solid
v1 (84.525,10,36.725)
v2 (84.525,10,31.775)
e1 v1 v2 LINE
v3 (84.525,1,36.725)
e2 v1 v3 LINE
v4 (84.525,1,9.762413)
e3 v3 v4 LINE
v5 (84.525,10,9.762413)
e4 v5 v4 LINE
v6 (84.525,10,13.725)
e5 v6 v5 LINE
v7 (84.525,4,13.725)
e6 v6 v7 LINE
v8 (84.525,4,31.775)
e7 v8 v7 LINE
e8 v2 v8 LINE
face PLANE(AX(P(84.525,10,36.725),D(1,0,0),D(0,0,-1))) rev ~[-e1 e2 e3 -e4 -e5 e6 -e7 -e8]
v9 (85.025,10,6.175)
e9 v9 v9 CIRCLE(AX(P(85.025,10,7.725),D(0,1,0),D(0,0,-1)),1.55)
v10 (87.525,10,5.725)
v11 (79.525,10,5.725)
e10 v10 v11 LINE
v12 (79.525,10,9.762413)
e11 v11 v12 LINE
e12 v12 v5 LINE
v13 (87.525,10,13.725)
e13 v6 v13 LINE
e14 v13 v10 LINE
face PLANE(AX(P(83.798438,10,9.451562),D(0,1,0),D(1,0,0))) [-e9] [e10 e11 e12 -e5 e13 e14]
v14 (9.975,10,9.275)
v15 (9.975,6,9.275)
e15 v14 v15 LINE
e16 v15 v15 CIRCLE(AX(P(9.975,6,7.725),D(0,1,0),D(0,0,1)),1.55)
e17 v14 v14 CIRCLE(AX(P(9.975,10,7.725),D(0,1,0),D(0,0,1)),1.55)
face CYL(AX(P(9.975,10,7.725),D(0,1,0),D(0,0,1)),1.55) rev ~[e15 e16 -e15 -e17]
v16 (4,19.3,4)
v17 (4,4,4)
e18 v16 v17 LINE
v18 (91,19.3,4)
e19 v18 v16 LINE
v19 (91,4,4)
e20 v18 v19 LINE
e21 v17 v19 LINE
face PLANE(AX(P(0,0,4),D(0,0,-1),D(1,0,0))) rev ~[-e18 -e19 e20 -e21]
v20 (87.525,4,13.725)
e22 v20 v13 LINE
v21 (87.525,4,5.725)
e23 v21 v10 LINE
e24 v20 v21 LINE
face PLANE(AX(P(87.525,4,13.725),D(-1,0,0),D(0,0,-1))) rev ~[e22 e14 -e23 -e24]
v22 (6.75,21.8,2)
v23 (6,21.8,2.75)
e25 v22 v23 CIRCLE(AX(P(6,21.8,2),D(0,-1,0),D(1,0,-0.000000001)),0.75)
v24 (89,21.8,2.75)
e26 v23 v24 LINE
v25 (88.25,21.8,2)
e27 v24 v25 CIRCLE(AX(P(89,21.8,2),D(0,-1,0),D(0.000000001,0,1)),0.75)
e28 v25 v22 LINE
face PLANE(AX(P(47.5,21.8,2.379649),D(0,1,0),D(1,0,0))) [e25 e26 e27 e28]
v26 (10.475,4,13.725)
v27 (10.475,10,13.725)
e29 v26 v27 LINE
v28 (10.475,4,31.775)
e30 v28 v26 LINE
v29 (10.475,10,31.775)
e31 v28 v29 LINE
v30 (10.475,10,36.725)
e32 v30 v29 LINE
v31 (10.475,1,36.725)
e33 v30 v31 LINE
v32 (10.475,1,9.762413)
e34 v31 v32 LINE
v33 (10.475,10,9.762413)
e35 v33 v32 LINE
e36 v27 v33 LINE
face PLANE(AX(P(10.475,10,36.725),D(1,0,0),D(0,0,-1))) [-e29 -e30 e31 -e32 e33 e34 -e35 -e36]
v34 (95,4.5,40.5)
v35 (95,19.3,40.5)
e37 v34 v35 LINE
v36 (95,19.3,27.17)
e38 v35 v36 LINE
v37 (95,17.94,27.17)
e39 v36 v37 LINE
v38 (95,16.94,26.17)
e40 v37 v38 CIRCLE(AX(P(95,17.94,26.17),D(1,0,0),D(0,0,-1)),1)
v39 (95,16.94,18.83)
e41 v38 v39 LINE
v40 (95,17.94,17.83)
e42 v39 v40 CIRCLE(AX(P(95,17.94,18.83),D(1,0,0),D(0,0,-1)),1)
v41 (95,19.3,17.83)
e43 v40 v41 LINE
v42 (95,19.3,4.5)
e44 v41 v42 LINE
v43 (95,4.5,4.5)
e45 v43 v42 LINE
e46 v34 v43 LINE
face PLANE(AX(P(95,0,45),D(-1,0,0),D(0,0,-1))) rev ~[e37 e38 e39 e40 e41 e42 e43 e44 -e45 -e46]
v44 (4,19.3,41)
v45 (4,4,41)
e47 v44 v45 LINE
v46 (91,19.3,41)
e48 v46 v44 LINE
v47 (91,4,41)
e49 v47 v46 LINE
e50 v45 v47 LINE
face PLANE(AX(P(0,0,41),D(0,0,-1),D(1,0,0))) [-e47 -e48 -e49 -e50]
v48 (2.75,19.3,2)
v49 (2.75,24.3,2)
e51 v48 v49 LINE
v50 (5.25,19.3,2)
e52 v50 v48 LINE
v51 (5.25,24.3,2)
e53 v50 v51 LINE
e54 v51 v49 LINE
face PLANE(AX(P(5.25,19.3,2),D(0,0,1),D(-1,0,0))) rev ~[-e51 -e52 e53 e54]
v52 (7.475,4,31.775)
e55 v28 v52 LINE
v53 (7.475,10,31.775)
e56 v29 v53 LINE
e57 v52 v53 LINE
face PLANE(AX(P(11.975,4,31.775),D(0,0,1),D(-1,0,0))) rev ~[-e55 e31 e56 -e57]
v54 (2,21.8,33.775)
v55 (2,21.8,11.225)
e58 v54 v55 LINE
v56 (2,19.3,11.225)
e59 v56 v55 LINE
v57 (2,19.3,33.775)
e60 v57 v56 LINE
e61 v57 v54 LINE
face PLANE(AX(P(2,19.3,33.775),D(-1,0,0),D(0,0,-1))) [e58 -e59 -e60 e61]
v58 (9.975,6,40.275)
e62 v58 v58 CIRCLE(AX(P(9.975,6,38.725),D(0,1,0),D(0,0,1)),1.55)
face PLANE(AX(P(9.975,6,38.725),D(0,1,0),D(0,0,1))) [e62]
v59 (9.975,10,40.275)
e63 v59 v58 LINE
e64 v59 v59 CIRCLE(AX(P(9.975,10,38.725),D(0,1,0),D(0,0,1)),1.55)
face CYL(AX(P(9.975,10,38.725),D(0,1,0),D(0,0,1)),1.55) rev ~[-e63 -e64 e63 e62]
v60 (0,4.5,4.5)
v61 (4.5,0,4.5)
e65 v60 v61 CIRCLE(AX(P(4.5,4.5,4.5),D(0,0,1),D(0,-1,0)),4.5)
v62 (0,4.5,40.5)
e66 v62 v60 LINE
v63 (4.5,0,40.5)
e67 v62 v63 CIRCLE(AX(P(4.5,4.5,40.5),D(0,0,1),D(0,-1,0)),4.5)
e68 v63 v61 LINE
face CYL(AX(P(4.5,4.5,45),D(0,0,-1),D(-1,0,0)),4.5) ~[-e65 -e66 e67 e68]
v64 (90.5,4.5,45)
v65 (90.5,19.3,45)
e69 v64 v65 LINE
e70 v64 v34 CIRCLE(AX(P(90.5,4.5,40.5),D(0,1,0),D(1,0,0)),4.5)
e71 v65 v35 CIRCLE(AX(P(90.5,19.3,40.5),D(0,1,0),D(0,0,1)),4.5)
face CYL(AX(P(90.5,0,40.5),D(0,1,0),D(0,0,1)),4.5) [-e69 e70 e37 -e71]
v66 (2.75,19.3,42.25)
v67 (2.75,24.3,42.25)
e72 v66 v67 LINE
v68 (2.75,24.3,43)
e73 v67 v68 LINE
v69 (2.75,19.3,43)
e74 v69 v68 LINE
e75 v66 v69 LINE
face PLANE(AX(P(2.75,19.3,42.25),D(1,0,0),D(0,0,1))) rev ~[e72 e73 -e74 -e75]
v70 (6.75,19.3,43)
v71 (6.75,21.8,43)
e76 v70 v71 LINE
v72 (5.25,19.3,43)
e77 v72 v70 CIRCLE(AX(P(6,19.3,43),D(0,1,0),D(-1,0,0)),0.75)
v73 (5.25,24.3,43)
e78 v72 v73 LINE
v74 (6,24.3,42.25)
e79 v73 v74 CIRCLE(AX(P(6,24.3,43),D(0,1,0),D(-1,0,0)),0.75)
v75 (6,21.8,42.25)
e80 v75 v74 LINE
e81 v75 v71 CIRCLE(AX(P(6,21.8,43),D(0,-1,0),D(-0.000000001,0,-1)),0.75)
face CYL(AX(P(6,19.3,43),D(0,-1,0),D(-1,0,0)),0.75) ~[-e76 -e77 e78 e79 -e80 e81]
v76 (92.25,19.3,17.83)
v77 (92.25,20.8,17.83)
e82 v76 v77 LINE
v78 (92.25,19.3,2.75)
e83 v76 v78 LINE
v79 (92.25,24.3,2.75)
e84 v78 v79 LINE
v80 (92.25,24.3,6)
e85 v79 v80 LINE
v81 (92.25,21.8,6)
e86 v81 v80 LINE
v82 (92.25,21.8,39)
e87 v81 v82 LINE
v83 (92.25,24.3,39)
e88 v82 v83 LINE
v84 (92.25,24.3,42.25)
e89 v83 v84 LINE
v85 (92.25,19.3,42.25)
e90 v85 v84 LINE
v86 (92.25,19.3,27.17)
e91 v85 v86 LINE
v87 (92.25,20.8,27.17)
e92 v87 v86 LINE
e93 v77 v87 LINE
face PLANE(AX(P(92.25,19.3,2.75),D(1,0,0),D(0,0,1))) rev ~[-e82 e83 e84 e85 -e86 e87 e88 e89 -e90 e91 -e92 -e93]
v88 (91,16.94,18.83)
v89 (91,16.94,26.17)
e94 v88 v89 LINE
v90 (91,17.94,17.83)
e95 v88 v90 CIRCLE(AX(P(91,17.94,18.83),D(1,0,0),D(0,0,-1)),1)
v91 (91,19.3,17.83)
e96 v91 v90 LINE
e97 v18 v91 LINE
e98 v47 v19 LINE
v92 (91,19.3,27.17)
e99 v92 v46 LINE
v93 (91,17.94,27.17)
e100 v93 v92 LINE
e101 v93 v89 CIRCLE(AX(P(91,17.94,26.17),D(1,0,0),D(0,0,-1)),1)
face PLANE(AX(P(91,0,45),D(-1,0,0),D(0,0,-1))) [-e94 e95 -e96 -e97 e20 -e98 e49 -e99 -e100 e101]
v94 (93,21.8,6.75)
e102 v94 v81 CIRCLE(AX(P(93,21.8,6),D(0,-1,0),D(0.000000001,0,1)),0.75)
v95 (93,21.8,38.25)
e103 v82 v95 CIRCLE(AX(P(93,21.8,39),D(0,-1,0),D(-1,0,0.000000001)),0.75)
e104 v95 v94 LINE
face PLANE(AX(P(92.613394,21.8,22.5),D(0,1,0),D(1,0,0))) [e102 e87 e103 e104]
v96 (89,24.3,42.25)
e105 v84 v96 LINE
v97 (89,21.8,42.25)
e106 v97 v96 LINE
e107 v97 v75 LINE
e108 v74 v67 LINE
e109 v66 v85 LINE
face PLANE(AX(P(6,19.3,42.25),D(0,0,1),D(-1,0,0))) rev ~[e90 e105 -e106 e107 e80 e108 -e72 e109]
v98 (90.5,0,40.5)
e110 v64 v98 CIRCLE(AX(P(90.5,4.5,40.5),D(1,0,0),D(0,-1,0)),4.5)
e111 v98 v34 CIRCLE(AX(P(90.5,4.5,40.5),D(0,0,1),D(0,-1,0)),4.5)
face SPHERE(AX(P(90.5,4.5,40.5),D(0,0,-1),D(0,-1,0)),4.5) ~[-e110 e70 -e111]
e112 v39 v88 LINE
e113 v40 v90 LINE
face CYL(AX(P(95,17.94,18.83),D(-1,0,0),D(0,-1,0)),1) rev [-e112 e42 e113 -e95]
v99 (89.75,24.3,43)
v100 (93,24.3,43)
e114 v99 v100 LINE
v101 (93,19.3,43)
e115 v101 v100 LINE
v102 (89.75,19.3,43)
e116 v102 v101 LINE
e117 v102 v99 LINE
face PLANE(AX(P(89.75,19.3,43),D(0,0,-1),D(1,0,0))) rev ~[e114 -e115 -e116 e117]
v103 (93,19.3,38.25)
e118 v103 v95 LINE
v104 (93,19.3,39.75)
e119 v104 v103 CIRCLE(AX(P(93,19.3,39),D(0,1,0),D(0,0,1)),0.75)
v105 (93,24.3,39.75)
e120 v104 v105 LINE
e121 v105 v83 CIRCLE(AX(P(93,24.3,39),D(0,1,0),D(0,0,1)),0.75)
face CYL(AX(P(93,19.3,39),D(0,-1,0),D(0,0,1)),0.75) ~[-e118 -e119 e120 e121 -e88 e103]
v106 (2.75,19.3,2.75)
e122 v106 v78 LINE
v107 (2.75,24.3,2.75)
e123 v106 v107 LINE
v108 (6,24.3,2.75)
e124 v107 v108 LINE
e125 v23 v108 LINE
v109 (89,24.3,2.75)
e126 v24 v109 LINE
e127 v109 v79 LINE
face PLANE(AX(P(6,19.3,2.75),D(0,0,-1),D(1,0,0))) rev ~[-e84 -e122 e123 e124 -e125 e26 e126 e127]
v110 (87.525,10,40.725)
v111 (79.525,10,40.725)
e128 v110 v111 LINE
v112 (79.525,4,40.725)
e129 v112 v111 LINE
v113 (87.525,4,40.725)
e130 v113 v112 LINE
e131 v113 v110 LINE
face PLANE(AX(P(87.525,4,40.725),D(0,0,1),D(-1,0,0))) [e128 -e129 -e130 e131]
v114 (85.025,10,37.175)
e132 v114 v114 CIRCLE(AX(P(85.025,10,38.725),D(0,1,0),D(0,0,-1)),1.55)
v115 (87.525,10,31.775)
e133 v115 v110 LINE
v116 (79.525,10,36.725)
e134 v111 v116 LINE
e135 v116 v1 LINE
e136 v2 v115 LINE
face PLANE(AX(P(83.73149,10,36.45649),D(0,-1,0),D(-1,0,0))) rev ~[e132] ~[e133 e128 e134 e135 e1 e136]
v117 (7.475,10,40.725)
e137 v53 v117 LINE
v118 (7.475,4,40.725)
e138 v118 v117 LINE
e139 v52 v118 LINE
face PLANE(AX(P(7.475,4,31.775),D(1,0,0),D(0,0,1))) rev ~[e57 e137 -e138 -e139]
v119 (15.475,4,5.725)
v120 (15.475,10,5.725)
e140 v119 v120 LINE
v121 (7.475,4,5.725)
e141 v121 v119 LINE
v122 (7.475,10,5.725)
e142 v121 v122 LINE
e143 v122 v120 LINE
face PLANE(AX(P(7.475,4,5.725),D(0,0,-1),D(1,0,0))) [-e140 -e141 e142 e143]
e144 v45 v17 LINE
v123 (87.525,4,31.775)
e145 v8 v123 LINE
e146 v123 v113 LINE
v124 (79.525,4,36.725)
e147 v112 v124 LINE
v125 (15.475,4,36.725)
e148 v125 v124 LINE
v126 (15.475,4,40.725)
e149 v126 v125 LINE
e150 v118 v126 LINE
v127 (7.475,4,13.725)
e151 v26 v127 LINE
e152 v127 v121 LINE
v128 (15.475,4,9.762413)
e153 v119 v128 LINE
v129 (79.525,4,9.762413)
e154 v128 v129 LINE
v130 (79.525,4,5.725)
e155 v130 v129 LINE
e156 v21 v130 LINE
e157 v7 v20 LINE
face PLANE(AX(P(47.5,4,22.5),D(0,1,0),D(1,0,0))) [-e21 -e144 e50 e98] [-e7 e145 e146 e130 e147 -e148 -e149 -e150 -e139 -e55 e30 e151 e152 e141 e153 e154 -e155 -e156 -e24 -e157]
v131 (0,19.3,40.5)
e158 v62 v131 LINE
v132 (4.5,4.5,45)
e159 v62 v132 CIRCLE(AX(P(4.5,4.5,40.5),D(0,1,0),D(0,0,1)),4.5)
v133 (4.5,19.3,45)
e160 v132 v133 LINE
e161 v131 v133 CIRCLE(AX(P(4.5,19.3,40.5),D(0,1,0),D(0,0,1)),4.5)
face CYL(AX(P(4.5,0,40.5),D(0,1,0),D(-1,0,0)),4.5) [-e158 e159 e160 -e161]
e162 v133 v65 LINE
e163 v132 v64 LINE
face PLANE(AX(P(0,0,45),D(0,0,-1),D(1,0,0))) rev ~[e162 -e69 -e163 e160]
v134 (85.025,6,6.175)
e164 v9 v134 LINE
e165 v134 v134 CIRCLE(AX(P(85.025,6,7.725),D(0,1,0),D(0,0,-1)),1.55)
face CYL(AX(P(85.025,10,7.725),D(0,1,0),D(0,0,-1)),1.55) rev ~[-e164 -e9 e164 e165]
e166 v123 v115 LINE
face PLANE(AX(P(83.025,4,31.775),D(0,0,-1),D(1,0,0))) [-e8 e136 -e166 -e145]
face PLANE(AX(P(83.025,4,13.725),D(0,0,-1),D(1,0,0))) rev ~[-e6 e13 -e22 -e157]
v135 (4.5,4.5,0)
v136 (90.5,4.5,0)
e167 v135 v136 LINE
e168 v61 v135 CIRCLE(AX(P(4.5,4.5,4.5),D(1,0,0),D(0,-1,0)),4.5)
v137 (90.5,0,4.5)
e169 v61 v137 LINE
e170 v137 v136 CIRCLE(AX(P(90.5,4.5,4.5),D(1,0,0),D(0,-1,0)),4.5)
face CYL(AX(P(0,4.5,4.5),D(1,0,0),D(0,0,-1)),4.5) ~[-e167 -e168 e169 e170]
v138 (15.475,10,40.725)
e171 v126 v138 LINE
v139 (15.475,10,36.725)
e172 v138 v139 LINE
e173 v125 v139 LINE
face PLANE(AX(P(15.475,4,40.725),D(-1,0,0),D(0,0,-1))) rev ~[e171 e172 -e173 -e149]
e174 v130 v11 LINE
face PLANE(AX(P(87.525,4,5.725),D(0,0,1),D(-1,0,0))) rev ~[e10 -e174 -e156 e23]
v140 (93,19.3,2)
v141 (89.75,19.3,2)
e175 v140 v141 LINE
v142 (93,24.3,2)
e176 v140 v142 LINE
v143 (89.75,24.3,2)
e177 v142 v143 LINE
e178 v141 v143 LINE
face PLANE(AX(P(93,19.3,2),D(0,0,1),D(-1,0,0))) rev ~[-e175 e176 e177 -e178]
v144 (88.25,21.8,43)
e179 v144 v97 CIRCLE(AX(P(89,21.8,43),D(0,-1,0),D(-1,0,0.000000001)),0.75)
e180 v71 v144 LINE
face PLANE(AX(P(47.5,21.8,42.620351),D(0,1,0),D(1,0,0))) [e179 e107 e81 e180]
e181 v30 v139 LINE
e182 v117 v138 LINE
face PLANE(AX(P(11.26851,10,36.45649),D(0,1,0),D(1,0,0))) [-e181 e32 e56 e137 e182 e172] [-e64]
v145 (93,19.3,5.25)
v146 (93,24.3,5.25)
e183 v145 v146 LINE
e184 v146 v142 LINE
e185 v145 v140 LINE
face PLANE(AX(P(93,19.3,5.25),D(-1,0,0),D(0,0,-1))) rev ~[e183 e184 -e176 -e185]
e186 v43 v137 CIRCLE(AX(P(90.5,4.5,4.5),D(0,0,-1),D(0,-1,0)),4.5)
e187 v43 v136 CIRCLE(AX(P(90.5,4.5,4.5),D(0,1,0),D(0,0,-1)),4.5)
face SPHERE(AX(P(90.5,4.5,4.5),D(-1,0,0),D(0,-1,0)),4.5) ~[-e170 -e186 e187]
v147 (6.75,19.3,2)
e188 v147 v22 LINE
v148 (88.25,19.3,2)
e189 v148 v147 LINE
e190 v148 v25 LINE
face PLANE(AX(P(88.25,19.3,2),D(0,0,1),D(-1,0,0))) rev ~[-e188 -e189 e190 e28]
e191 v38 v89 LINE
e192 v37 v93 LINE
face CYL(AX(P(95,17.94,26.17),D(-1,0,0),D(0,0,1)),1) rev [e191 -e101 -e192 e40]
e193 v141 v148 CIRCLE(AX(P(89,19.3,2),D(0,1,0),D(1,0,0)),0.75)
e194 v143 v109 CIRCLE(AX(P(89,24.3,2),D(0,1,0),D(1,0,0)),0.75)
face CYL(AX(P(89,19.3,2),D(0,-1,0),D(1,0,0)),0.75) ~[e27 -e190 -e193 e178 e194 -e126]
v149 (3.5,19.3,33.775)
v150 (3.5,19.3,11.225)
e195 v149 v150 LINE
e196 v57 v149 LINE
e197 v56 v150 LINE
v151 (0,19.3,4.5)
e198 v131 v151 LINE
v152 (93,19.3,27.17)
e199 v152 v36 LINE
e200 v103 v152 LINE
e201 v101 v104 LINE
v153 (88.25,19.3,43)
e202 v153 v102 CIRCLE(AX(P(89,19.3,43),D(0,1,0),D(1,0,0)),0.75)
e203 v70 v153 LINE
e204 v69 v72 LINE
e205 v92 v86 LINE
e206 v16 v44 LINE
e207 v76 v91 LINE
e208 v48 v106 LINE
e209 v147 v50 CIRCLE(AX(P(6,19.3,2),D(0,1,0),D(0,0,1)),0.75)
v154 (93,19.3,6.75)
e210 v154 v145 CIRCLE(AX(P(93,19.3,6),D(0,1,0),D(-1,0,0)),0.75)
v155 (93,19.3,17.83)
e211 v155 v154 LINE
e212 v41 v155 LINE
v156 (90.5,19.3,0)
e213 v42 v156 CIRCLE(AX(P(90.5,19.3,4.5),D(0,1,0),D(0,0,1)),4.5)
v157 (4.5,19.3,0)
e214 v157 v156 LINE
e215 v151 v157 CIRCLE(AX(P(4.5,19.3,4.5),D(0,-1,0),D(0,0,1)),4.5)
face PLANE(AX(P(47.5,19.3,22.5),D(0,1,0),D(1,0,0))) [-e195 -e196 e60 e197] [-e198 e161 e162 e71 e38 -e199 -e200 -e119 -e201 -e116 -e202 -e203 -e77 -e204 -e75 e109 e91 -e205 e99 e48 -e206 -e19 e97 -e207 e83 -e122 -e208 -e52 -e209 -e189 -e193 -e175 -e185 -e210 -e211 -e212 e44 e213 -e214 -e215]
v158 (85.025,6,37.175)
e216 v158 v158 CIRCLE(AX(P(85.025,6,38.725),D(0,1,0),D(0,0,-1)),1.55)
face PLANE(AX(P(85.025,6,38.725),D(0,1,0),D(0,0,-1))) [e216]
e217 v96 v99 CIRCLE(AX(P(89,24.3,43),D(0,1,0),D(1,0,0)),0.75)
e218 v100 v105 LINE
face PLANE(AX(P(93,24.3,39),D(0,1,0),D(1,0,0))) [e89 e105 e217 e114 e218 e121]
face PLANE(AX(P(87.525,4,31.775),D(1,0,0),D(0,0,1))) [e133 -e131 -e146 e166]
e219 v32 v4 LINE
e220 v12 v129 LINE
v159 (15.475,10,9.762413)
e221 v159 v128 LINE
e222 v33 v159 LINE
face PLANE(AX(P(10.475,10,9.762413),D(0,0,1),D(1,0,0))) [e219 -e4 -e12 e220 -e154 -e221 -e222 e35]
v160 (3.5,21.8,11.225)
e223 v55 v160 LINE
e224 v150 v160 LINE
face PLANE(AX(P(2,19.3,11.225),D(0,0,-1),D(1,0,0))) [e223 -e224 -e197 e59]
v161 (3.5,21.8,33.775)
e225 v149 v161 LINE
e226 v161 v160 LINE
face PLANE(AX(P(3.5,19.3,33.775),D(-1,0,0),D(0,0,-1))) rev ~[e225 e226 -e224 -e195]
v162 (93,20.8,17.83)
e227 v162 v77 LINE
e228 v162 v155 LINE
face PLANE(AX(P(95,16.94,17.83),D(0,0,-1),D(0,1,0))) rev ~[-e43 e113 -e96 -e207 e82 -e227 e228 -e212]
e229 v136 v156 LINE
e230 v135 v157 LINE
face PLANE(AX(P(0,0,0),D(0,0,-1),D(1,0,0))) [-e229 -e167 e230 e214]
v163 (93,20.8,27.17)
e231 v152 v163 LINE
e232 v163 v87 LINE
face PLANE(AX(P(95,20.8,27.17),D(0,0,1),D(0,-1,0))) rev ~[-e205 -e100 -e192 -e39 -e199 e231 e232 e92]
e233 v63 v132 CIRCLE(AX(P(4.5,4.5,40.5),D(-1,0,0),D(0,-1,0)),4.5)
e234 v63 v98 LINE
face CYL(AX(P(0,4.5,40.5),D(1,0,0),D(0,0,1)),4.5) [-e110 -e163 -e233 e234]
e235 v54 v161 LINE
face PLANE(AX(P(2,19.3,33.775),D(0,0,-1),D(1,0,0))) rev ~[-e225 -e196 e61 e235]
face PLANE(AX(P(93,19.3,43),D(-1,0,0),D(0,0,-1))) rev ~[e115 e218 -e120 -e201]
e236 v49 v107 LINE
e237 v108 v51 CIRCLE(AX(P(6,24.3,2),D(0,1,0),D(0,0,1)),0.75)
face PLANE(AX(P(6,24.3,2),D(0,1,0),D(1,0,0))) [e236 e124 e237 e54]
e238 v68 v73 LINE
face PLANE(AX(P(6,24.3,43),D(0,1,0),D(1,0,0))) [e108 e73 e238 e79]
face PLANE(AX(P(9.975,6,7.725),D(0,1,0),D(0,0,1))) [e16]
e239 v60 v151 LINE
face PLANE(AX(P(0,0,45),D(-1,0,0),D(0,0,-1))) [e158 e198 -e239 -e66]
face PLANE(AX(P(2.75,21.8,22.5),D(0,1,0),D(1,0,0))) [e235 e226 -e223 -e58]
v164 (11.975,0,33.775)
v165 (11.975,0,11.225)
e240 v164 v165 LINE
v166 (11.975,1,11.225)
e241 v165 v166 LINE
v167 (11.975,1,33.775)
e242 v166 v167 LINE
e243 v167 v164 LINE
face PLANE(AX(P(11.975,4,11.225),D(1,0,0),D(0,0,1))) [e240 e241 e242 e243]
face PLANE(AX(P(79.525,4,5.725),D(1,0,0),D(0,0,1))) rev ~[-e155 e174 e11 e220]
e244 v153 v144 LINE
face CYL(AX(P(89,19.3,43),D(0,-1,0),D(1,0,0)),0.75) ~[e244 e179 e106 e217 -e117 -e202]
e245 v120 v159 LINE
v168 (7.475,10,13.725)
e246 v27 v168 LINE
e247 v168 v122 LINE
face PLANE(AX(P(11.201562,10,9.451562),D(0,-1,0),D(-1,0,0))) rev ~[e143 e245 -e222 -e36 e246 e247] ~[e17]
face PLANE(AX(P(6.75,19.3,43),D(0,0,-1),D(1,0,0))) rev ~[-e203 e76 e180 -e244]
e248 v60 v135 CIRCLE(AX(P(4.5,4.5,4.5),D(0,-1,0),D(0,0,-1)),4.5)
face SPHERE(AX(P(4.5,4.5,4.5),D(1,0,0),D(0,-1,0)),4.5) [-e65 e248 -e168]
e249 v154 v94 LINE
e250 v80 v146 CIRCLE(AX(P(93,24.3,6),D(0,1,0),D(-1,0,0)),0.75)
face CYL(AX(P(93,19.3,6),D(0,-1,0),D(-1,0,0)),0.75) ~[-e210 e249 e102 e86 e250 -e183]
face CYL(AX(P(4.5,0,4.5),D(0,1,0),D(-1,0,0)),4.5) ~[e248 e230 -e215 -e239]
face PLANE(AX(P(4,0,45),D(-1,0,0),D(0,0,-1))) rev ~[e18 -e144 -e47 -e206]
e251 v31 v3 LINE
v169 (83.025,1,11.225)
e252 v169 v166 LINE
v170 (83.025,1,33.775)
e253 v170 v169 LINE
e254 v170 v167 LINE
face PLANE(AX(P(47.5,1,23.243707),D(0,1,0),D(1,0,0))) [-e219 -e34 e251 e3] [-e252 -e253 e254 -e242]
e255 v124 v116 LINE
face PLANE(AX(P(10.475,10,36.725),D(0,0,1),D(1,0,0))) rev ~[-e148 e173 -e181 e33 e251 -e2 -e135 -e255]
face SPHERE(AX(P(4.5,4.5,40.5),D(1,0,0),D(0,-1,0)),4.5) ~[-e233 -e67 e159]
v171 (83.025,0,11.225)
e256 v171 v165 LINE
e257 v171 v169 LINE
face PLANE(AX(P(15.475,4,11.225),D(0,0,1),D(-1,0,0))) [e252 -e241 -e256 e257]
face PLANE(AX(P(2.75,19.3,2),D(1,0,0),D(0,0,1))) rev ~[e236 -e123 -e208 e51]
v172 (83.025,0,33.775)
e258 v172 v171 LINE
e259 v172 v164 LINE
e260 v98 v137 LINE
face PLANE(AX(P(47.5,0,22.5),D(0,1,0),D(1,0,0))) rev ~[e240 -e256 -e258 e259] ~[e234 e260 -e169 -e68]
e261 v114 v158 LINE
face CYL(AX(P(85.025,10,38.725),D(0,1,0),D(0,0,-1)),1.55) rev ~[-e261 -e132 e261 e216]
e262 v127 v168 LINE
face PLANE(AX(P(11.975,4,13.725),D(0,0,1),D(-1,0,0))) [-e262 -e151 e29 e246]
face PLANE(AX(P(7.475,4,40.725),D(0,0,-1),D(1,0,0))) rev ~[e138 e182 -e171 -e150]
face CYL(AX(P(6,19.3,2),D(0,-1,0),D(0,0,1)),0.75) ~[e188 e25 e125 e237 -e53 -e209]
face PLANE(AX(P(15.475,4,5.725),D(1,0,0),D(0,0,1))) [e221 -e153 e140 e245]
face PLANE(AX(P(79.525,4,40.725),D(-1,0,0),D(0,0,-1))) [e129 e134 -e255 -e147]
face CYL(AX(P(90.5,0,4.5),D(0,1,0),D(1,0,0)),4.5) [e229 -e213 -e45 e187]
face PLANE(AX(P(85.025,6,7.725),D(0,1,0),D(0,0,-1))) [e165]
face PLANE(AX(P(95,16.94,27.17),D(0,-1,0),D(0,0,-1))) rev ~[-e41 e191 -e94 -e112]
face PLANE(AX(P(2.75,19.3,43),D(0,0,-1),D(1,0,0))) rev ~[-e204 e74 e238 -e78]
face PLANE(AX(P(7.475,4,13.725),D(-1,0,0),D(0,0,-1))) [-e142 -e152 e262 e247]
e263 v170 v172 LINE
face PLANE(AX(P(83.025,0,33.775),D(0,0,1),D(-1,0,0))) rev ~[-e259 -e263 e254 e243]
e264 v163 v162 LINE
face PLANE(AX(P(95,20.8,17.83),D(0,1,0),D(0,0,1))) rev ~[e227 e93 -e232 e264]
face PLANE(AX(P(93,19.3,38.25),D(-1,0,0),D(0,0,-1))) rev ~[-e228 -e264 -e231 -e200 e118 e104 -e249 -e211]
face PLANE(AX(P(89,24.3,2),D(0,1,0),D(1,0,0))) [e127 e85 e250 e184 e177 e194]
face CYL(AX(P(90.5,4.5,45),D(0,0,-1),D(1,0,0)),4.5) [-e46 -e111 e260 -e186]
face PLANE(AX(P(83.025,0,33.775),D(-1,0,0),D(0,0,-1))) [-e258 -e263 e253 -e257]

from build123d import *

# Parameters (mm, degrees)
SKETCH_1_W          = 95
SKETCH_1_H          = 45
EXTRUDE_1_DEPTH     = 19.3
SHELL_1_T           = -4
FILLET_1_R          = 4.5
SKETCH_2_W          = 71.05
SKETCH_2_H          = 22.55
CUT_EXTRUDE_1_DEPTH = 4.5
EXTRUDE_3_DEPTH     = 6
SKETCH_7_R          = 1.55
CUT_EXTRUDE_2_DEPTH = 4
EXTRUDE_5_DEPTH     = 5
EXTRUDE_6_DEPTH     = 2.5
SKETCH_9_W          = 1.5
SKETCH_9_H          = 22.55
EXTRUDE_7_DEPTH     = 2.5
SKETCH_10_W         = 74.05
SKETCH_10_H         = 26.962586992
CUT_EXTRUDE_3_DEPTH = 9
SKETCH_12_W         = 9.34
SKETCH_12_H         = 3.86
CUT_EXTRUDE_4_DEPTH = 24
FILLET_2_R          = 1
FILLET_3_R          = 1


with BuildPart() as part:
    # Эскиз1 → Бобышка-Вытянуть1 (new body)
    with BuildSketch(Plane(origin=(0, 0, 0), x_dir=(1, 0, 0), z_dir=(0, 1, 0))):
        with Locations((47.5, -22.5)):
            Rectangle(SKETCH_1_W, SKETCH_1_H)
    extrude(amount=EXTRUDE_1_DEPTH)

    # Оболочка1
    shell_1_openings = [part.faces().sort_by_distance(p)[0] for p in [
        (47.5, 19.3, 22.5),
    ]]
    offset(amount=SHELL_1_T, openings=shell_1_openings, kind=Kind.INTERSECTION)

    # Скругление1
    fillet_1_edges = [part.edges().sort_by_distance(p)[0] for p in [
        (47.5, 0, 45),
        (95, 0, 22.5),
        (47.5, 0, 0),
        (0, 0, 22.5),
        (95, 9.65, 0),
        (95, 9.65, 45),
        (0, 9.65, 0),
        (0, 9.65, 45),
    ]]
    fillet(fillet_1_edges, radius=FILLET_1_R)

    # Эскиз2 → Вырез-Вытянуть1 (cut)
    with BuildSketch(Plane(origin=(0, 0, 0), x_dir=(-1, 0, 0), z_dir=(0, -1, 0))):
        with Locations((-47.5, -22.5)):
            Rectangle(SKETCH_2_W, SKETCH_2_H)
    extrude(amount=-CUT_EXTRUDE_1_DEPTH, mode=Mode.SUBTRACT)

    # Эскиз6 → Бобышка-Вытянуть3 (add)
    with BuildSketch(Plane(origin=(0, 4, 0), x_dir=(1, 0, 0), z_dir=(0, 1, 0))):
        Polygon((11.975, -11.225), (11.975, -13.725), (7.475, -13.725), (7.475, -5.725), (15.475, -5.725), (15.475, -11.225), align=None)
        Polygon((11.975, -33.775), (11.975, -31.775), (7.475, -31.775), (7.475, -40.725), (15.475, -40.725), (15.475, -33.775), align=None)
        Polygon((87.525, -40.725), (79.525, -40.725), (79.525, -33.775), (83.025, -33.775), (83.025, -31.775), (87.525, -31.775), align=None)
        Polygon((79.525, -5.725), (79.525, -11.225), (83.025, -11.225), (83.025, -13.725), (87.525, -13.725), (87.525, -5.725), align=None)
    extrude(amount=EXTRUDE_3_DEPTH)

    # Эскиз7 → Вырез-Вытянуть2 (cut)
    with BuildSketch(Plane(origin=(0, 10, 0), x_dir=(1, 0, 0), z_dir=(0, 1, 0))):
        with Locations((9.975, -7.725)):
            Circle(SKETCH_7_R)
        with Locations((85.025, -7.725)):
            Circle(SKETCH_7_R)
        with Locations((9.975, -38.725)):
            Circle(SKETCH_7_R)
        with Locations((85.025, -38.725)):
            Circle(SKETCH_7_R)
    extrude(amount=-CUT_EXTRUDE_2_DEPTH, mode=Mode.SUBTRACT)

    # Эскиз8 → Бобышка-Вытянуть5 (add)
    with BuildSketch(Plane(origin=(0, 19.3, 0), x_dir=(1, 0, 0), z_dir=(0, 1, 0))):
        with BuildLine():
            Line((5.25, -2), (2.75, -2))
            Line((2.75, -2), (2.75, -2.75))
            Line((2.75, -2.75), (6, -2.75))
            ThreePointArc((6, -2.75), (6.530330086, -1.469669914), (5.25, -2))
        make_face()
        with BuildLine():
            Line((6, -42.25), (2.75, -42.25))
            Line((2.75, -42.25), (2.75, -43))
            Line((2.75, -43), (5.25, -43))
            ThreePointArc((5.25, -43), (6.530330086, -43.530330086), (6, -42.25))
        make_face()
        with BuildLine():
            Line((93, -2), (89.75, -2))
            ThreePointArc((89.75, -2), (88.469669914, -1.469669914), (89, -2.75))
            Line((89, -2.75), (92.25, -2.75))
            Line((92.25, -2.75), (92.25, -6))
            ThreePointArc((92.25, -6), (93.530330086, -6.530330086), (93, -5.25))
            Line((93, -5.25), (93, -2))
        make_face()
        with BuildLine():
            Line((92.25, -42.25), (89, -42.25))
            ThreePointArc((89, -42.25), (88.469669914, -43.530330086), (89.75, -43))
            Line((89.75, -43), (93, -43))
            Line((93, -43), (93, -39.75))
            ThreePointArc((93, -39.75), (93.530330086, -38.469669914), (92.25, -39))
            Line((92.25, -39), (92.25, -42.25))
        make_face()
    extrude(amount=EXTRUDE_5_DEPTH)

    # Эскиз8<4> → Бобышка-Вытянуть6 (add)
    with BuildSketch(Plane(origin=(0, 19.3, 0), x_dir=(1, 0, 0), z_dir=(0, 1, 0))):
        with BuildLine():
            ThreePointArc((6.75, -2), (6.530330086, -2.530330086), (6, -2.75))
            Line((6, -2.75), (89, -2.75))
            ThreePointArc((89, -2.75), (88.469669914, -2.530330086), (88.25, -2))
            Line((88.25, -2), (6.75, -2))
        make_face()
        with BuildLine():
            Line((89, -42.25), (6, -42.25))
            ThreePointArc((6, -42.25), (6.530330086, -42.469669914), (6.75, -43))
            Line((6.75, -43), (88.25, -43))
            ThreePointArc((88.25, -43), (88.469669914, -42.469669914), (89, -42.25))
        make_face()
        with BuildLine():
            ThreePointArc((93, -6.75), (92.469669914, -6.530330086), (92.25, -6))
            Line((92.25, -6), (92.25, -39))
            ThreePointArc((92.25, -39), (92.469669914, -38.469669914), (93, -38.25))
            Line((93, -38.25), (93, -6.75))
        make_face()
    extrude(amount=EXTRUDE_6_DEPTH)

    # Эскиз9 → Бобышка-Вытянуть7 (add)
    with BuildSketch(Plane(origin=(0, 19.3, 0), x_dir=(1, 0, 0), z_dir=(0, 1, 0))):
        with Locations((2.75, -22.5)):
            Rectangle(SKETCH_9_W, SKETCH_9_H)
    extrude(amount=EXTRUDE_7_DEPTH)

    # Эскиз10 → Вырез-Вытянуть3 (cut)
    with BuildSketch(Plane(origin=(0, 10, 0), x_dir=(1, 0, 0), z_dir=(0, 1, 0))):
        with Locations((47.5, -23.243706504)):
            Rectangle(SKETCH_10_W, SKETCH_10_H)
    extrude(amount=-CUT_EXTRUDE_3_DEPTH, mode=Mode.SUBTRACT)

    # Эскиз12 → Вырез-Вытянуть4 (cut)
    with BuildSketch(Plane(origin=(95, 0, 0), x_dir=(0, 0, -1), z_dir=(1, 0, 0))):
        with Locations((-22.5, 18.87)):
            Rectangle(SKETCH_12_W, SKETCH_12_H)
    extrude(amount=-CUT_EXTRUDE_4_DEPTH, mode=Mode.SUBTRACT)

    # Скругление2
    fillet_2_edges = [part.edges().sort_by_distance(p)[0] for p in [
        (93, 16.94, 27.17),
    ]]
    fillet(fillet_2_edges, radius=FILLET_2_R)

    # Скругление3
    fillet_3_edges = [part.edges().sort_by_distance(p)[0] for p in [
        (93, 16.94, 17.83),
    ]]
    fillet(fillet_3_edges, radius=FILLET_3_R)


solid = part.part
